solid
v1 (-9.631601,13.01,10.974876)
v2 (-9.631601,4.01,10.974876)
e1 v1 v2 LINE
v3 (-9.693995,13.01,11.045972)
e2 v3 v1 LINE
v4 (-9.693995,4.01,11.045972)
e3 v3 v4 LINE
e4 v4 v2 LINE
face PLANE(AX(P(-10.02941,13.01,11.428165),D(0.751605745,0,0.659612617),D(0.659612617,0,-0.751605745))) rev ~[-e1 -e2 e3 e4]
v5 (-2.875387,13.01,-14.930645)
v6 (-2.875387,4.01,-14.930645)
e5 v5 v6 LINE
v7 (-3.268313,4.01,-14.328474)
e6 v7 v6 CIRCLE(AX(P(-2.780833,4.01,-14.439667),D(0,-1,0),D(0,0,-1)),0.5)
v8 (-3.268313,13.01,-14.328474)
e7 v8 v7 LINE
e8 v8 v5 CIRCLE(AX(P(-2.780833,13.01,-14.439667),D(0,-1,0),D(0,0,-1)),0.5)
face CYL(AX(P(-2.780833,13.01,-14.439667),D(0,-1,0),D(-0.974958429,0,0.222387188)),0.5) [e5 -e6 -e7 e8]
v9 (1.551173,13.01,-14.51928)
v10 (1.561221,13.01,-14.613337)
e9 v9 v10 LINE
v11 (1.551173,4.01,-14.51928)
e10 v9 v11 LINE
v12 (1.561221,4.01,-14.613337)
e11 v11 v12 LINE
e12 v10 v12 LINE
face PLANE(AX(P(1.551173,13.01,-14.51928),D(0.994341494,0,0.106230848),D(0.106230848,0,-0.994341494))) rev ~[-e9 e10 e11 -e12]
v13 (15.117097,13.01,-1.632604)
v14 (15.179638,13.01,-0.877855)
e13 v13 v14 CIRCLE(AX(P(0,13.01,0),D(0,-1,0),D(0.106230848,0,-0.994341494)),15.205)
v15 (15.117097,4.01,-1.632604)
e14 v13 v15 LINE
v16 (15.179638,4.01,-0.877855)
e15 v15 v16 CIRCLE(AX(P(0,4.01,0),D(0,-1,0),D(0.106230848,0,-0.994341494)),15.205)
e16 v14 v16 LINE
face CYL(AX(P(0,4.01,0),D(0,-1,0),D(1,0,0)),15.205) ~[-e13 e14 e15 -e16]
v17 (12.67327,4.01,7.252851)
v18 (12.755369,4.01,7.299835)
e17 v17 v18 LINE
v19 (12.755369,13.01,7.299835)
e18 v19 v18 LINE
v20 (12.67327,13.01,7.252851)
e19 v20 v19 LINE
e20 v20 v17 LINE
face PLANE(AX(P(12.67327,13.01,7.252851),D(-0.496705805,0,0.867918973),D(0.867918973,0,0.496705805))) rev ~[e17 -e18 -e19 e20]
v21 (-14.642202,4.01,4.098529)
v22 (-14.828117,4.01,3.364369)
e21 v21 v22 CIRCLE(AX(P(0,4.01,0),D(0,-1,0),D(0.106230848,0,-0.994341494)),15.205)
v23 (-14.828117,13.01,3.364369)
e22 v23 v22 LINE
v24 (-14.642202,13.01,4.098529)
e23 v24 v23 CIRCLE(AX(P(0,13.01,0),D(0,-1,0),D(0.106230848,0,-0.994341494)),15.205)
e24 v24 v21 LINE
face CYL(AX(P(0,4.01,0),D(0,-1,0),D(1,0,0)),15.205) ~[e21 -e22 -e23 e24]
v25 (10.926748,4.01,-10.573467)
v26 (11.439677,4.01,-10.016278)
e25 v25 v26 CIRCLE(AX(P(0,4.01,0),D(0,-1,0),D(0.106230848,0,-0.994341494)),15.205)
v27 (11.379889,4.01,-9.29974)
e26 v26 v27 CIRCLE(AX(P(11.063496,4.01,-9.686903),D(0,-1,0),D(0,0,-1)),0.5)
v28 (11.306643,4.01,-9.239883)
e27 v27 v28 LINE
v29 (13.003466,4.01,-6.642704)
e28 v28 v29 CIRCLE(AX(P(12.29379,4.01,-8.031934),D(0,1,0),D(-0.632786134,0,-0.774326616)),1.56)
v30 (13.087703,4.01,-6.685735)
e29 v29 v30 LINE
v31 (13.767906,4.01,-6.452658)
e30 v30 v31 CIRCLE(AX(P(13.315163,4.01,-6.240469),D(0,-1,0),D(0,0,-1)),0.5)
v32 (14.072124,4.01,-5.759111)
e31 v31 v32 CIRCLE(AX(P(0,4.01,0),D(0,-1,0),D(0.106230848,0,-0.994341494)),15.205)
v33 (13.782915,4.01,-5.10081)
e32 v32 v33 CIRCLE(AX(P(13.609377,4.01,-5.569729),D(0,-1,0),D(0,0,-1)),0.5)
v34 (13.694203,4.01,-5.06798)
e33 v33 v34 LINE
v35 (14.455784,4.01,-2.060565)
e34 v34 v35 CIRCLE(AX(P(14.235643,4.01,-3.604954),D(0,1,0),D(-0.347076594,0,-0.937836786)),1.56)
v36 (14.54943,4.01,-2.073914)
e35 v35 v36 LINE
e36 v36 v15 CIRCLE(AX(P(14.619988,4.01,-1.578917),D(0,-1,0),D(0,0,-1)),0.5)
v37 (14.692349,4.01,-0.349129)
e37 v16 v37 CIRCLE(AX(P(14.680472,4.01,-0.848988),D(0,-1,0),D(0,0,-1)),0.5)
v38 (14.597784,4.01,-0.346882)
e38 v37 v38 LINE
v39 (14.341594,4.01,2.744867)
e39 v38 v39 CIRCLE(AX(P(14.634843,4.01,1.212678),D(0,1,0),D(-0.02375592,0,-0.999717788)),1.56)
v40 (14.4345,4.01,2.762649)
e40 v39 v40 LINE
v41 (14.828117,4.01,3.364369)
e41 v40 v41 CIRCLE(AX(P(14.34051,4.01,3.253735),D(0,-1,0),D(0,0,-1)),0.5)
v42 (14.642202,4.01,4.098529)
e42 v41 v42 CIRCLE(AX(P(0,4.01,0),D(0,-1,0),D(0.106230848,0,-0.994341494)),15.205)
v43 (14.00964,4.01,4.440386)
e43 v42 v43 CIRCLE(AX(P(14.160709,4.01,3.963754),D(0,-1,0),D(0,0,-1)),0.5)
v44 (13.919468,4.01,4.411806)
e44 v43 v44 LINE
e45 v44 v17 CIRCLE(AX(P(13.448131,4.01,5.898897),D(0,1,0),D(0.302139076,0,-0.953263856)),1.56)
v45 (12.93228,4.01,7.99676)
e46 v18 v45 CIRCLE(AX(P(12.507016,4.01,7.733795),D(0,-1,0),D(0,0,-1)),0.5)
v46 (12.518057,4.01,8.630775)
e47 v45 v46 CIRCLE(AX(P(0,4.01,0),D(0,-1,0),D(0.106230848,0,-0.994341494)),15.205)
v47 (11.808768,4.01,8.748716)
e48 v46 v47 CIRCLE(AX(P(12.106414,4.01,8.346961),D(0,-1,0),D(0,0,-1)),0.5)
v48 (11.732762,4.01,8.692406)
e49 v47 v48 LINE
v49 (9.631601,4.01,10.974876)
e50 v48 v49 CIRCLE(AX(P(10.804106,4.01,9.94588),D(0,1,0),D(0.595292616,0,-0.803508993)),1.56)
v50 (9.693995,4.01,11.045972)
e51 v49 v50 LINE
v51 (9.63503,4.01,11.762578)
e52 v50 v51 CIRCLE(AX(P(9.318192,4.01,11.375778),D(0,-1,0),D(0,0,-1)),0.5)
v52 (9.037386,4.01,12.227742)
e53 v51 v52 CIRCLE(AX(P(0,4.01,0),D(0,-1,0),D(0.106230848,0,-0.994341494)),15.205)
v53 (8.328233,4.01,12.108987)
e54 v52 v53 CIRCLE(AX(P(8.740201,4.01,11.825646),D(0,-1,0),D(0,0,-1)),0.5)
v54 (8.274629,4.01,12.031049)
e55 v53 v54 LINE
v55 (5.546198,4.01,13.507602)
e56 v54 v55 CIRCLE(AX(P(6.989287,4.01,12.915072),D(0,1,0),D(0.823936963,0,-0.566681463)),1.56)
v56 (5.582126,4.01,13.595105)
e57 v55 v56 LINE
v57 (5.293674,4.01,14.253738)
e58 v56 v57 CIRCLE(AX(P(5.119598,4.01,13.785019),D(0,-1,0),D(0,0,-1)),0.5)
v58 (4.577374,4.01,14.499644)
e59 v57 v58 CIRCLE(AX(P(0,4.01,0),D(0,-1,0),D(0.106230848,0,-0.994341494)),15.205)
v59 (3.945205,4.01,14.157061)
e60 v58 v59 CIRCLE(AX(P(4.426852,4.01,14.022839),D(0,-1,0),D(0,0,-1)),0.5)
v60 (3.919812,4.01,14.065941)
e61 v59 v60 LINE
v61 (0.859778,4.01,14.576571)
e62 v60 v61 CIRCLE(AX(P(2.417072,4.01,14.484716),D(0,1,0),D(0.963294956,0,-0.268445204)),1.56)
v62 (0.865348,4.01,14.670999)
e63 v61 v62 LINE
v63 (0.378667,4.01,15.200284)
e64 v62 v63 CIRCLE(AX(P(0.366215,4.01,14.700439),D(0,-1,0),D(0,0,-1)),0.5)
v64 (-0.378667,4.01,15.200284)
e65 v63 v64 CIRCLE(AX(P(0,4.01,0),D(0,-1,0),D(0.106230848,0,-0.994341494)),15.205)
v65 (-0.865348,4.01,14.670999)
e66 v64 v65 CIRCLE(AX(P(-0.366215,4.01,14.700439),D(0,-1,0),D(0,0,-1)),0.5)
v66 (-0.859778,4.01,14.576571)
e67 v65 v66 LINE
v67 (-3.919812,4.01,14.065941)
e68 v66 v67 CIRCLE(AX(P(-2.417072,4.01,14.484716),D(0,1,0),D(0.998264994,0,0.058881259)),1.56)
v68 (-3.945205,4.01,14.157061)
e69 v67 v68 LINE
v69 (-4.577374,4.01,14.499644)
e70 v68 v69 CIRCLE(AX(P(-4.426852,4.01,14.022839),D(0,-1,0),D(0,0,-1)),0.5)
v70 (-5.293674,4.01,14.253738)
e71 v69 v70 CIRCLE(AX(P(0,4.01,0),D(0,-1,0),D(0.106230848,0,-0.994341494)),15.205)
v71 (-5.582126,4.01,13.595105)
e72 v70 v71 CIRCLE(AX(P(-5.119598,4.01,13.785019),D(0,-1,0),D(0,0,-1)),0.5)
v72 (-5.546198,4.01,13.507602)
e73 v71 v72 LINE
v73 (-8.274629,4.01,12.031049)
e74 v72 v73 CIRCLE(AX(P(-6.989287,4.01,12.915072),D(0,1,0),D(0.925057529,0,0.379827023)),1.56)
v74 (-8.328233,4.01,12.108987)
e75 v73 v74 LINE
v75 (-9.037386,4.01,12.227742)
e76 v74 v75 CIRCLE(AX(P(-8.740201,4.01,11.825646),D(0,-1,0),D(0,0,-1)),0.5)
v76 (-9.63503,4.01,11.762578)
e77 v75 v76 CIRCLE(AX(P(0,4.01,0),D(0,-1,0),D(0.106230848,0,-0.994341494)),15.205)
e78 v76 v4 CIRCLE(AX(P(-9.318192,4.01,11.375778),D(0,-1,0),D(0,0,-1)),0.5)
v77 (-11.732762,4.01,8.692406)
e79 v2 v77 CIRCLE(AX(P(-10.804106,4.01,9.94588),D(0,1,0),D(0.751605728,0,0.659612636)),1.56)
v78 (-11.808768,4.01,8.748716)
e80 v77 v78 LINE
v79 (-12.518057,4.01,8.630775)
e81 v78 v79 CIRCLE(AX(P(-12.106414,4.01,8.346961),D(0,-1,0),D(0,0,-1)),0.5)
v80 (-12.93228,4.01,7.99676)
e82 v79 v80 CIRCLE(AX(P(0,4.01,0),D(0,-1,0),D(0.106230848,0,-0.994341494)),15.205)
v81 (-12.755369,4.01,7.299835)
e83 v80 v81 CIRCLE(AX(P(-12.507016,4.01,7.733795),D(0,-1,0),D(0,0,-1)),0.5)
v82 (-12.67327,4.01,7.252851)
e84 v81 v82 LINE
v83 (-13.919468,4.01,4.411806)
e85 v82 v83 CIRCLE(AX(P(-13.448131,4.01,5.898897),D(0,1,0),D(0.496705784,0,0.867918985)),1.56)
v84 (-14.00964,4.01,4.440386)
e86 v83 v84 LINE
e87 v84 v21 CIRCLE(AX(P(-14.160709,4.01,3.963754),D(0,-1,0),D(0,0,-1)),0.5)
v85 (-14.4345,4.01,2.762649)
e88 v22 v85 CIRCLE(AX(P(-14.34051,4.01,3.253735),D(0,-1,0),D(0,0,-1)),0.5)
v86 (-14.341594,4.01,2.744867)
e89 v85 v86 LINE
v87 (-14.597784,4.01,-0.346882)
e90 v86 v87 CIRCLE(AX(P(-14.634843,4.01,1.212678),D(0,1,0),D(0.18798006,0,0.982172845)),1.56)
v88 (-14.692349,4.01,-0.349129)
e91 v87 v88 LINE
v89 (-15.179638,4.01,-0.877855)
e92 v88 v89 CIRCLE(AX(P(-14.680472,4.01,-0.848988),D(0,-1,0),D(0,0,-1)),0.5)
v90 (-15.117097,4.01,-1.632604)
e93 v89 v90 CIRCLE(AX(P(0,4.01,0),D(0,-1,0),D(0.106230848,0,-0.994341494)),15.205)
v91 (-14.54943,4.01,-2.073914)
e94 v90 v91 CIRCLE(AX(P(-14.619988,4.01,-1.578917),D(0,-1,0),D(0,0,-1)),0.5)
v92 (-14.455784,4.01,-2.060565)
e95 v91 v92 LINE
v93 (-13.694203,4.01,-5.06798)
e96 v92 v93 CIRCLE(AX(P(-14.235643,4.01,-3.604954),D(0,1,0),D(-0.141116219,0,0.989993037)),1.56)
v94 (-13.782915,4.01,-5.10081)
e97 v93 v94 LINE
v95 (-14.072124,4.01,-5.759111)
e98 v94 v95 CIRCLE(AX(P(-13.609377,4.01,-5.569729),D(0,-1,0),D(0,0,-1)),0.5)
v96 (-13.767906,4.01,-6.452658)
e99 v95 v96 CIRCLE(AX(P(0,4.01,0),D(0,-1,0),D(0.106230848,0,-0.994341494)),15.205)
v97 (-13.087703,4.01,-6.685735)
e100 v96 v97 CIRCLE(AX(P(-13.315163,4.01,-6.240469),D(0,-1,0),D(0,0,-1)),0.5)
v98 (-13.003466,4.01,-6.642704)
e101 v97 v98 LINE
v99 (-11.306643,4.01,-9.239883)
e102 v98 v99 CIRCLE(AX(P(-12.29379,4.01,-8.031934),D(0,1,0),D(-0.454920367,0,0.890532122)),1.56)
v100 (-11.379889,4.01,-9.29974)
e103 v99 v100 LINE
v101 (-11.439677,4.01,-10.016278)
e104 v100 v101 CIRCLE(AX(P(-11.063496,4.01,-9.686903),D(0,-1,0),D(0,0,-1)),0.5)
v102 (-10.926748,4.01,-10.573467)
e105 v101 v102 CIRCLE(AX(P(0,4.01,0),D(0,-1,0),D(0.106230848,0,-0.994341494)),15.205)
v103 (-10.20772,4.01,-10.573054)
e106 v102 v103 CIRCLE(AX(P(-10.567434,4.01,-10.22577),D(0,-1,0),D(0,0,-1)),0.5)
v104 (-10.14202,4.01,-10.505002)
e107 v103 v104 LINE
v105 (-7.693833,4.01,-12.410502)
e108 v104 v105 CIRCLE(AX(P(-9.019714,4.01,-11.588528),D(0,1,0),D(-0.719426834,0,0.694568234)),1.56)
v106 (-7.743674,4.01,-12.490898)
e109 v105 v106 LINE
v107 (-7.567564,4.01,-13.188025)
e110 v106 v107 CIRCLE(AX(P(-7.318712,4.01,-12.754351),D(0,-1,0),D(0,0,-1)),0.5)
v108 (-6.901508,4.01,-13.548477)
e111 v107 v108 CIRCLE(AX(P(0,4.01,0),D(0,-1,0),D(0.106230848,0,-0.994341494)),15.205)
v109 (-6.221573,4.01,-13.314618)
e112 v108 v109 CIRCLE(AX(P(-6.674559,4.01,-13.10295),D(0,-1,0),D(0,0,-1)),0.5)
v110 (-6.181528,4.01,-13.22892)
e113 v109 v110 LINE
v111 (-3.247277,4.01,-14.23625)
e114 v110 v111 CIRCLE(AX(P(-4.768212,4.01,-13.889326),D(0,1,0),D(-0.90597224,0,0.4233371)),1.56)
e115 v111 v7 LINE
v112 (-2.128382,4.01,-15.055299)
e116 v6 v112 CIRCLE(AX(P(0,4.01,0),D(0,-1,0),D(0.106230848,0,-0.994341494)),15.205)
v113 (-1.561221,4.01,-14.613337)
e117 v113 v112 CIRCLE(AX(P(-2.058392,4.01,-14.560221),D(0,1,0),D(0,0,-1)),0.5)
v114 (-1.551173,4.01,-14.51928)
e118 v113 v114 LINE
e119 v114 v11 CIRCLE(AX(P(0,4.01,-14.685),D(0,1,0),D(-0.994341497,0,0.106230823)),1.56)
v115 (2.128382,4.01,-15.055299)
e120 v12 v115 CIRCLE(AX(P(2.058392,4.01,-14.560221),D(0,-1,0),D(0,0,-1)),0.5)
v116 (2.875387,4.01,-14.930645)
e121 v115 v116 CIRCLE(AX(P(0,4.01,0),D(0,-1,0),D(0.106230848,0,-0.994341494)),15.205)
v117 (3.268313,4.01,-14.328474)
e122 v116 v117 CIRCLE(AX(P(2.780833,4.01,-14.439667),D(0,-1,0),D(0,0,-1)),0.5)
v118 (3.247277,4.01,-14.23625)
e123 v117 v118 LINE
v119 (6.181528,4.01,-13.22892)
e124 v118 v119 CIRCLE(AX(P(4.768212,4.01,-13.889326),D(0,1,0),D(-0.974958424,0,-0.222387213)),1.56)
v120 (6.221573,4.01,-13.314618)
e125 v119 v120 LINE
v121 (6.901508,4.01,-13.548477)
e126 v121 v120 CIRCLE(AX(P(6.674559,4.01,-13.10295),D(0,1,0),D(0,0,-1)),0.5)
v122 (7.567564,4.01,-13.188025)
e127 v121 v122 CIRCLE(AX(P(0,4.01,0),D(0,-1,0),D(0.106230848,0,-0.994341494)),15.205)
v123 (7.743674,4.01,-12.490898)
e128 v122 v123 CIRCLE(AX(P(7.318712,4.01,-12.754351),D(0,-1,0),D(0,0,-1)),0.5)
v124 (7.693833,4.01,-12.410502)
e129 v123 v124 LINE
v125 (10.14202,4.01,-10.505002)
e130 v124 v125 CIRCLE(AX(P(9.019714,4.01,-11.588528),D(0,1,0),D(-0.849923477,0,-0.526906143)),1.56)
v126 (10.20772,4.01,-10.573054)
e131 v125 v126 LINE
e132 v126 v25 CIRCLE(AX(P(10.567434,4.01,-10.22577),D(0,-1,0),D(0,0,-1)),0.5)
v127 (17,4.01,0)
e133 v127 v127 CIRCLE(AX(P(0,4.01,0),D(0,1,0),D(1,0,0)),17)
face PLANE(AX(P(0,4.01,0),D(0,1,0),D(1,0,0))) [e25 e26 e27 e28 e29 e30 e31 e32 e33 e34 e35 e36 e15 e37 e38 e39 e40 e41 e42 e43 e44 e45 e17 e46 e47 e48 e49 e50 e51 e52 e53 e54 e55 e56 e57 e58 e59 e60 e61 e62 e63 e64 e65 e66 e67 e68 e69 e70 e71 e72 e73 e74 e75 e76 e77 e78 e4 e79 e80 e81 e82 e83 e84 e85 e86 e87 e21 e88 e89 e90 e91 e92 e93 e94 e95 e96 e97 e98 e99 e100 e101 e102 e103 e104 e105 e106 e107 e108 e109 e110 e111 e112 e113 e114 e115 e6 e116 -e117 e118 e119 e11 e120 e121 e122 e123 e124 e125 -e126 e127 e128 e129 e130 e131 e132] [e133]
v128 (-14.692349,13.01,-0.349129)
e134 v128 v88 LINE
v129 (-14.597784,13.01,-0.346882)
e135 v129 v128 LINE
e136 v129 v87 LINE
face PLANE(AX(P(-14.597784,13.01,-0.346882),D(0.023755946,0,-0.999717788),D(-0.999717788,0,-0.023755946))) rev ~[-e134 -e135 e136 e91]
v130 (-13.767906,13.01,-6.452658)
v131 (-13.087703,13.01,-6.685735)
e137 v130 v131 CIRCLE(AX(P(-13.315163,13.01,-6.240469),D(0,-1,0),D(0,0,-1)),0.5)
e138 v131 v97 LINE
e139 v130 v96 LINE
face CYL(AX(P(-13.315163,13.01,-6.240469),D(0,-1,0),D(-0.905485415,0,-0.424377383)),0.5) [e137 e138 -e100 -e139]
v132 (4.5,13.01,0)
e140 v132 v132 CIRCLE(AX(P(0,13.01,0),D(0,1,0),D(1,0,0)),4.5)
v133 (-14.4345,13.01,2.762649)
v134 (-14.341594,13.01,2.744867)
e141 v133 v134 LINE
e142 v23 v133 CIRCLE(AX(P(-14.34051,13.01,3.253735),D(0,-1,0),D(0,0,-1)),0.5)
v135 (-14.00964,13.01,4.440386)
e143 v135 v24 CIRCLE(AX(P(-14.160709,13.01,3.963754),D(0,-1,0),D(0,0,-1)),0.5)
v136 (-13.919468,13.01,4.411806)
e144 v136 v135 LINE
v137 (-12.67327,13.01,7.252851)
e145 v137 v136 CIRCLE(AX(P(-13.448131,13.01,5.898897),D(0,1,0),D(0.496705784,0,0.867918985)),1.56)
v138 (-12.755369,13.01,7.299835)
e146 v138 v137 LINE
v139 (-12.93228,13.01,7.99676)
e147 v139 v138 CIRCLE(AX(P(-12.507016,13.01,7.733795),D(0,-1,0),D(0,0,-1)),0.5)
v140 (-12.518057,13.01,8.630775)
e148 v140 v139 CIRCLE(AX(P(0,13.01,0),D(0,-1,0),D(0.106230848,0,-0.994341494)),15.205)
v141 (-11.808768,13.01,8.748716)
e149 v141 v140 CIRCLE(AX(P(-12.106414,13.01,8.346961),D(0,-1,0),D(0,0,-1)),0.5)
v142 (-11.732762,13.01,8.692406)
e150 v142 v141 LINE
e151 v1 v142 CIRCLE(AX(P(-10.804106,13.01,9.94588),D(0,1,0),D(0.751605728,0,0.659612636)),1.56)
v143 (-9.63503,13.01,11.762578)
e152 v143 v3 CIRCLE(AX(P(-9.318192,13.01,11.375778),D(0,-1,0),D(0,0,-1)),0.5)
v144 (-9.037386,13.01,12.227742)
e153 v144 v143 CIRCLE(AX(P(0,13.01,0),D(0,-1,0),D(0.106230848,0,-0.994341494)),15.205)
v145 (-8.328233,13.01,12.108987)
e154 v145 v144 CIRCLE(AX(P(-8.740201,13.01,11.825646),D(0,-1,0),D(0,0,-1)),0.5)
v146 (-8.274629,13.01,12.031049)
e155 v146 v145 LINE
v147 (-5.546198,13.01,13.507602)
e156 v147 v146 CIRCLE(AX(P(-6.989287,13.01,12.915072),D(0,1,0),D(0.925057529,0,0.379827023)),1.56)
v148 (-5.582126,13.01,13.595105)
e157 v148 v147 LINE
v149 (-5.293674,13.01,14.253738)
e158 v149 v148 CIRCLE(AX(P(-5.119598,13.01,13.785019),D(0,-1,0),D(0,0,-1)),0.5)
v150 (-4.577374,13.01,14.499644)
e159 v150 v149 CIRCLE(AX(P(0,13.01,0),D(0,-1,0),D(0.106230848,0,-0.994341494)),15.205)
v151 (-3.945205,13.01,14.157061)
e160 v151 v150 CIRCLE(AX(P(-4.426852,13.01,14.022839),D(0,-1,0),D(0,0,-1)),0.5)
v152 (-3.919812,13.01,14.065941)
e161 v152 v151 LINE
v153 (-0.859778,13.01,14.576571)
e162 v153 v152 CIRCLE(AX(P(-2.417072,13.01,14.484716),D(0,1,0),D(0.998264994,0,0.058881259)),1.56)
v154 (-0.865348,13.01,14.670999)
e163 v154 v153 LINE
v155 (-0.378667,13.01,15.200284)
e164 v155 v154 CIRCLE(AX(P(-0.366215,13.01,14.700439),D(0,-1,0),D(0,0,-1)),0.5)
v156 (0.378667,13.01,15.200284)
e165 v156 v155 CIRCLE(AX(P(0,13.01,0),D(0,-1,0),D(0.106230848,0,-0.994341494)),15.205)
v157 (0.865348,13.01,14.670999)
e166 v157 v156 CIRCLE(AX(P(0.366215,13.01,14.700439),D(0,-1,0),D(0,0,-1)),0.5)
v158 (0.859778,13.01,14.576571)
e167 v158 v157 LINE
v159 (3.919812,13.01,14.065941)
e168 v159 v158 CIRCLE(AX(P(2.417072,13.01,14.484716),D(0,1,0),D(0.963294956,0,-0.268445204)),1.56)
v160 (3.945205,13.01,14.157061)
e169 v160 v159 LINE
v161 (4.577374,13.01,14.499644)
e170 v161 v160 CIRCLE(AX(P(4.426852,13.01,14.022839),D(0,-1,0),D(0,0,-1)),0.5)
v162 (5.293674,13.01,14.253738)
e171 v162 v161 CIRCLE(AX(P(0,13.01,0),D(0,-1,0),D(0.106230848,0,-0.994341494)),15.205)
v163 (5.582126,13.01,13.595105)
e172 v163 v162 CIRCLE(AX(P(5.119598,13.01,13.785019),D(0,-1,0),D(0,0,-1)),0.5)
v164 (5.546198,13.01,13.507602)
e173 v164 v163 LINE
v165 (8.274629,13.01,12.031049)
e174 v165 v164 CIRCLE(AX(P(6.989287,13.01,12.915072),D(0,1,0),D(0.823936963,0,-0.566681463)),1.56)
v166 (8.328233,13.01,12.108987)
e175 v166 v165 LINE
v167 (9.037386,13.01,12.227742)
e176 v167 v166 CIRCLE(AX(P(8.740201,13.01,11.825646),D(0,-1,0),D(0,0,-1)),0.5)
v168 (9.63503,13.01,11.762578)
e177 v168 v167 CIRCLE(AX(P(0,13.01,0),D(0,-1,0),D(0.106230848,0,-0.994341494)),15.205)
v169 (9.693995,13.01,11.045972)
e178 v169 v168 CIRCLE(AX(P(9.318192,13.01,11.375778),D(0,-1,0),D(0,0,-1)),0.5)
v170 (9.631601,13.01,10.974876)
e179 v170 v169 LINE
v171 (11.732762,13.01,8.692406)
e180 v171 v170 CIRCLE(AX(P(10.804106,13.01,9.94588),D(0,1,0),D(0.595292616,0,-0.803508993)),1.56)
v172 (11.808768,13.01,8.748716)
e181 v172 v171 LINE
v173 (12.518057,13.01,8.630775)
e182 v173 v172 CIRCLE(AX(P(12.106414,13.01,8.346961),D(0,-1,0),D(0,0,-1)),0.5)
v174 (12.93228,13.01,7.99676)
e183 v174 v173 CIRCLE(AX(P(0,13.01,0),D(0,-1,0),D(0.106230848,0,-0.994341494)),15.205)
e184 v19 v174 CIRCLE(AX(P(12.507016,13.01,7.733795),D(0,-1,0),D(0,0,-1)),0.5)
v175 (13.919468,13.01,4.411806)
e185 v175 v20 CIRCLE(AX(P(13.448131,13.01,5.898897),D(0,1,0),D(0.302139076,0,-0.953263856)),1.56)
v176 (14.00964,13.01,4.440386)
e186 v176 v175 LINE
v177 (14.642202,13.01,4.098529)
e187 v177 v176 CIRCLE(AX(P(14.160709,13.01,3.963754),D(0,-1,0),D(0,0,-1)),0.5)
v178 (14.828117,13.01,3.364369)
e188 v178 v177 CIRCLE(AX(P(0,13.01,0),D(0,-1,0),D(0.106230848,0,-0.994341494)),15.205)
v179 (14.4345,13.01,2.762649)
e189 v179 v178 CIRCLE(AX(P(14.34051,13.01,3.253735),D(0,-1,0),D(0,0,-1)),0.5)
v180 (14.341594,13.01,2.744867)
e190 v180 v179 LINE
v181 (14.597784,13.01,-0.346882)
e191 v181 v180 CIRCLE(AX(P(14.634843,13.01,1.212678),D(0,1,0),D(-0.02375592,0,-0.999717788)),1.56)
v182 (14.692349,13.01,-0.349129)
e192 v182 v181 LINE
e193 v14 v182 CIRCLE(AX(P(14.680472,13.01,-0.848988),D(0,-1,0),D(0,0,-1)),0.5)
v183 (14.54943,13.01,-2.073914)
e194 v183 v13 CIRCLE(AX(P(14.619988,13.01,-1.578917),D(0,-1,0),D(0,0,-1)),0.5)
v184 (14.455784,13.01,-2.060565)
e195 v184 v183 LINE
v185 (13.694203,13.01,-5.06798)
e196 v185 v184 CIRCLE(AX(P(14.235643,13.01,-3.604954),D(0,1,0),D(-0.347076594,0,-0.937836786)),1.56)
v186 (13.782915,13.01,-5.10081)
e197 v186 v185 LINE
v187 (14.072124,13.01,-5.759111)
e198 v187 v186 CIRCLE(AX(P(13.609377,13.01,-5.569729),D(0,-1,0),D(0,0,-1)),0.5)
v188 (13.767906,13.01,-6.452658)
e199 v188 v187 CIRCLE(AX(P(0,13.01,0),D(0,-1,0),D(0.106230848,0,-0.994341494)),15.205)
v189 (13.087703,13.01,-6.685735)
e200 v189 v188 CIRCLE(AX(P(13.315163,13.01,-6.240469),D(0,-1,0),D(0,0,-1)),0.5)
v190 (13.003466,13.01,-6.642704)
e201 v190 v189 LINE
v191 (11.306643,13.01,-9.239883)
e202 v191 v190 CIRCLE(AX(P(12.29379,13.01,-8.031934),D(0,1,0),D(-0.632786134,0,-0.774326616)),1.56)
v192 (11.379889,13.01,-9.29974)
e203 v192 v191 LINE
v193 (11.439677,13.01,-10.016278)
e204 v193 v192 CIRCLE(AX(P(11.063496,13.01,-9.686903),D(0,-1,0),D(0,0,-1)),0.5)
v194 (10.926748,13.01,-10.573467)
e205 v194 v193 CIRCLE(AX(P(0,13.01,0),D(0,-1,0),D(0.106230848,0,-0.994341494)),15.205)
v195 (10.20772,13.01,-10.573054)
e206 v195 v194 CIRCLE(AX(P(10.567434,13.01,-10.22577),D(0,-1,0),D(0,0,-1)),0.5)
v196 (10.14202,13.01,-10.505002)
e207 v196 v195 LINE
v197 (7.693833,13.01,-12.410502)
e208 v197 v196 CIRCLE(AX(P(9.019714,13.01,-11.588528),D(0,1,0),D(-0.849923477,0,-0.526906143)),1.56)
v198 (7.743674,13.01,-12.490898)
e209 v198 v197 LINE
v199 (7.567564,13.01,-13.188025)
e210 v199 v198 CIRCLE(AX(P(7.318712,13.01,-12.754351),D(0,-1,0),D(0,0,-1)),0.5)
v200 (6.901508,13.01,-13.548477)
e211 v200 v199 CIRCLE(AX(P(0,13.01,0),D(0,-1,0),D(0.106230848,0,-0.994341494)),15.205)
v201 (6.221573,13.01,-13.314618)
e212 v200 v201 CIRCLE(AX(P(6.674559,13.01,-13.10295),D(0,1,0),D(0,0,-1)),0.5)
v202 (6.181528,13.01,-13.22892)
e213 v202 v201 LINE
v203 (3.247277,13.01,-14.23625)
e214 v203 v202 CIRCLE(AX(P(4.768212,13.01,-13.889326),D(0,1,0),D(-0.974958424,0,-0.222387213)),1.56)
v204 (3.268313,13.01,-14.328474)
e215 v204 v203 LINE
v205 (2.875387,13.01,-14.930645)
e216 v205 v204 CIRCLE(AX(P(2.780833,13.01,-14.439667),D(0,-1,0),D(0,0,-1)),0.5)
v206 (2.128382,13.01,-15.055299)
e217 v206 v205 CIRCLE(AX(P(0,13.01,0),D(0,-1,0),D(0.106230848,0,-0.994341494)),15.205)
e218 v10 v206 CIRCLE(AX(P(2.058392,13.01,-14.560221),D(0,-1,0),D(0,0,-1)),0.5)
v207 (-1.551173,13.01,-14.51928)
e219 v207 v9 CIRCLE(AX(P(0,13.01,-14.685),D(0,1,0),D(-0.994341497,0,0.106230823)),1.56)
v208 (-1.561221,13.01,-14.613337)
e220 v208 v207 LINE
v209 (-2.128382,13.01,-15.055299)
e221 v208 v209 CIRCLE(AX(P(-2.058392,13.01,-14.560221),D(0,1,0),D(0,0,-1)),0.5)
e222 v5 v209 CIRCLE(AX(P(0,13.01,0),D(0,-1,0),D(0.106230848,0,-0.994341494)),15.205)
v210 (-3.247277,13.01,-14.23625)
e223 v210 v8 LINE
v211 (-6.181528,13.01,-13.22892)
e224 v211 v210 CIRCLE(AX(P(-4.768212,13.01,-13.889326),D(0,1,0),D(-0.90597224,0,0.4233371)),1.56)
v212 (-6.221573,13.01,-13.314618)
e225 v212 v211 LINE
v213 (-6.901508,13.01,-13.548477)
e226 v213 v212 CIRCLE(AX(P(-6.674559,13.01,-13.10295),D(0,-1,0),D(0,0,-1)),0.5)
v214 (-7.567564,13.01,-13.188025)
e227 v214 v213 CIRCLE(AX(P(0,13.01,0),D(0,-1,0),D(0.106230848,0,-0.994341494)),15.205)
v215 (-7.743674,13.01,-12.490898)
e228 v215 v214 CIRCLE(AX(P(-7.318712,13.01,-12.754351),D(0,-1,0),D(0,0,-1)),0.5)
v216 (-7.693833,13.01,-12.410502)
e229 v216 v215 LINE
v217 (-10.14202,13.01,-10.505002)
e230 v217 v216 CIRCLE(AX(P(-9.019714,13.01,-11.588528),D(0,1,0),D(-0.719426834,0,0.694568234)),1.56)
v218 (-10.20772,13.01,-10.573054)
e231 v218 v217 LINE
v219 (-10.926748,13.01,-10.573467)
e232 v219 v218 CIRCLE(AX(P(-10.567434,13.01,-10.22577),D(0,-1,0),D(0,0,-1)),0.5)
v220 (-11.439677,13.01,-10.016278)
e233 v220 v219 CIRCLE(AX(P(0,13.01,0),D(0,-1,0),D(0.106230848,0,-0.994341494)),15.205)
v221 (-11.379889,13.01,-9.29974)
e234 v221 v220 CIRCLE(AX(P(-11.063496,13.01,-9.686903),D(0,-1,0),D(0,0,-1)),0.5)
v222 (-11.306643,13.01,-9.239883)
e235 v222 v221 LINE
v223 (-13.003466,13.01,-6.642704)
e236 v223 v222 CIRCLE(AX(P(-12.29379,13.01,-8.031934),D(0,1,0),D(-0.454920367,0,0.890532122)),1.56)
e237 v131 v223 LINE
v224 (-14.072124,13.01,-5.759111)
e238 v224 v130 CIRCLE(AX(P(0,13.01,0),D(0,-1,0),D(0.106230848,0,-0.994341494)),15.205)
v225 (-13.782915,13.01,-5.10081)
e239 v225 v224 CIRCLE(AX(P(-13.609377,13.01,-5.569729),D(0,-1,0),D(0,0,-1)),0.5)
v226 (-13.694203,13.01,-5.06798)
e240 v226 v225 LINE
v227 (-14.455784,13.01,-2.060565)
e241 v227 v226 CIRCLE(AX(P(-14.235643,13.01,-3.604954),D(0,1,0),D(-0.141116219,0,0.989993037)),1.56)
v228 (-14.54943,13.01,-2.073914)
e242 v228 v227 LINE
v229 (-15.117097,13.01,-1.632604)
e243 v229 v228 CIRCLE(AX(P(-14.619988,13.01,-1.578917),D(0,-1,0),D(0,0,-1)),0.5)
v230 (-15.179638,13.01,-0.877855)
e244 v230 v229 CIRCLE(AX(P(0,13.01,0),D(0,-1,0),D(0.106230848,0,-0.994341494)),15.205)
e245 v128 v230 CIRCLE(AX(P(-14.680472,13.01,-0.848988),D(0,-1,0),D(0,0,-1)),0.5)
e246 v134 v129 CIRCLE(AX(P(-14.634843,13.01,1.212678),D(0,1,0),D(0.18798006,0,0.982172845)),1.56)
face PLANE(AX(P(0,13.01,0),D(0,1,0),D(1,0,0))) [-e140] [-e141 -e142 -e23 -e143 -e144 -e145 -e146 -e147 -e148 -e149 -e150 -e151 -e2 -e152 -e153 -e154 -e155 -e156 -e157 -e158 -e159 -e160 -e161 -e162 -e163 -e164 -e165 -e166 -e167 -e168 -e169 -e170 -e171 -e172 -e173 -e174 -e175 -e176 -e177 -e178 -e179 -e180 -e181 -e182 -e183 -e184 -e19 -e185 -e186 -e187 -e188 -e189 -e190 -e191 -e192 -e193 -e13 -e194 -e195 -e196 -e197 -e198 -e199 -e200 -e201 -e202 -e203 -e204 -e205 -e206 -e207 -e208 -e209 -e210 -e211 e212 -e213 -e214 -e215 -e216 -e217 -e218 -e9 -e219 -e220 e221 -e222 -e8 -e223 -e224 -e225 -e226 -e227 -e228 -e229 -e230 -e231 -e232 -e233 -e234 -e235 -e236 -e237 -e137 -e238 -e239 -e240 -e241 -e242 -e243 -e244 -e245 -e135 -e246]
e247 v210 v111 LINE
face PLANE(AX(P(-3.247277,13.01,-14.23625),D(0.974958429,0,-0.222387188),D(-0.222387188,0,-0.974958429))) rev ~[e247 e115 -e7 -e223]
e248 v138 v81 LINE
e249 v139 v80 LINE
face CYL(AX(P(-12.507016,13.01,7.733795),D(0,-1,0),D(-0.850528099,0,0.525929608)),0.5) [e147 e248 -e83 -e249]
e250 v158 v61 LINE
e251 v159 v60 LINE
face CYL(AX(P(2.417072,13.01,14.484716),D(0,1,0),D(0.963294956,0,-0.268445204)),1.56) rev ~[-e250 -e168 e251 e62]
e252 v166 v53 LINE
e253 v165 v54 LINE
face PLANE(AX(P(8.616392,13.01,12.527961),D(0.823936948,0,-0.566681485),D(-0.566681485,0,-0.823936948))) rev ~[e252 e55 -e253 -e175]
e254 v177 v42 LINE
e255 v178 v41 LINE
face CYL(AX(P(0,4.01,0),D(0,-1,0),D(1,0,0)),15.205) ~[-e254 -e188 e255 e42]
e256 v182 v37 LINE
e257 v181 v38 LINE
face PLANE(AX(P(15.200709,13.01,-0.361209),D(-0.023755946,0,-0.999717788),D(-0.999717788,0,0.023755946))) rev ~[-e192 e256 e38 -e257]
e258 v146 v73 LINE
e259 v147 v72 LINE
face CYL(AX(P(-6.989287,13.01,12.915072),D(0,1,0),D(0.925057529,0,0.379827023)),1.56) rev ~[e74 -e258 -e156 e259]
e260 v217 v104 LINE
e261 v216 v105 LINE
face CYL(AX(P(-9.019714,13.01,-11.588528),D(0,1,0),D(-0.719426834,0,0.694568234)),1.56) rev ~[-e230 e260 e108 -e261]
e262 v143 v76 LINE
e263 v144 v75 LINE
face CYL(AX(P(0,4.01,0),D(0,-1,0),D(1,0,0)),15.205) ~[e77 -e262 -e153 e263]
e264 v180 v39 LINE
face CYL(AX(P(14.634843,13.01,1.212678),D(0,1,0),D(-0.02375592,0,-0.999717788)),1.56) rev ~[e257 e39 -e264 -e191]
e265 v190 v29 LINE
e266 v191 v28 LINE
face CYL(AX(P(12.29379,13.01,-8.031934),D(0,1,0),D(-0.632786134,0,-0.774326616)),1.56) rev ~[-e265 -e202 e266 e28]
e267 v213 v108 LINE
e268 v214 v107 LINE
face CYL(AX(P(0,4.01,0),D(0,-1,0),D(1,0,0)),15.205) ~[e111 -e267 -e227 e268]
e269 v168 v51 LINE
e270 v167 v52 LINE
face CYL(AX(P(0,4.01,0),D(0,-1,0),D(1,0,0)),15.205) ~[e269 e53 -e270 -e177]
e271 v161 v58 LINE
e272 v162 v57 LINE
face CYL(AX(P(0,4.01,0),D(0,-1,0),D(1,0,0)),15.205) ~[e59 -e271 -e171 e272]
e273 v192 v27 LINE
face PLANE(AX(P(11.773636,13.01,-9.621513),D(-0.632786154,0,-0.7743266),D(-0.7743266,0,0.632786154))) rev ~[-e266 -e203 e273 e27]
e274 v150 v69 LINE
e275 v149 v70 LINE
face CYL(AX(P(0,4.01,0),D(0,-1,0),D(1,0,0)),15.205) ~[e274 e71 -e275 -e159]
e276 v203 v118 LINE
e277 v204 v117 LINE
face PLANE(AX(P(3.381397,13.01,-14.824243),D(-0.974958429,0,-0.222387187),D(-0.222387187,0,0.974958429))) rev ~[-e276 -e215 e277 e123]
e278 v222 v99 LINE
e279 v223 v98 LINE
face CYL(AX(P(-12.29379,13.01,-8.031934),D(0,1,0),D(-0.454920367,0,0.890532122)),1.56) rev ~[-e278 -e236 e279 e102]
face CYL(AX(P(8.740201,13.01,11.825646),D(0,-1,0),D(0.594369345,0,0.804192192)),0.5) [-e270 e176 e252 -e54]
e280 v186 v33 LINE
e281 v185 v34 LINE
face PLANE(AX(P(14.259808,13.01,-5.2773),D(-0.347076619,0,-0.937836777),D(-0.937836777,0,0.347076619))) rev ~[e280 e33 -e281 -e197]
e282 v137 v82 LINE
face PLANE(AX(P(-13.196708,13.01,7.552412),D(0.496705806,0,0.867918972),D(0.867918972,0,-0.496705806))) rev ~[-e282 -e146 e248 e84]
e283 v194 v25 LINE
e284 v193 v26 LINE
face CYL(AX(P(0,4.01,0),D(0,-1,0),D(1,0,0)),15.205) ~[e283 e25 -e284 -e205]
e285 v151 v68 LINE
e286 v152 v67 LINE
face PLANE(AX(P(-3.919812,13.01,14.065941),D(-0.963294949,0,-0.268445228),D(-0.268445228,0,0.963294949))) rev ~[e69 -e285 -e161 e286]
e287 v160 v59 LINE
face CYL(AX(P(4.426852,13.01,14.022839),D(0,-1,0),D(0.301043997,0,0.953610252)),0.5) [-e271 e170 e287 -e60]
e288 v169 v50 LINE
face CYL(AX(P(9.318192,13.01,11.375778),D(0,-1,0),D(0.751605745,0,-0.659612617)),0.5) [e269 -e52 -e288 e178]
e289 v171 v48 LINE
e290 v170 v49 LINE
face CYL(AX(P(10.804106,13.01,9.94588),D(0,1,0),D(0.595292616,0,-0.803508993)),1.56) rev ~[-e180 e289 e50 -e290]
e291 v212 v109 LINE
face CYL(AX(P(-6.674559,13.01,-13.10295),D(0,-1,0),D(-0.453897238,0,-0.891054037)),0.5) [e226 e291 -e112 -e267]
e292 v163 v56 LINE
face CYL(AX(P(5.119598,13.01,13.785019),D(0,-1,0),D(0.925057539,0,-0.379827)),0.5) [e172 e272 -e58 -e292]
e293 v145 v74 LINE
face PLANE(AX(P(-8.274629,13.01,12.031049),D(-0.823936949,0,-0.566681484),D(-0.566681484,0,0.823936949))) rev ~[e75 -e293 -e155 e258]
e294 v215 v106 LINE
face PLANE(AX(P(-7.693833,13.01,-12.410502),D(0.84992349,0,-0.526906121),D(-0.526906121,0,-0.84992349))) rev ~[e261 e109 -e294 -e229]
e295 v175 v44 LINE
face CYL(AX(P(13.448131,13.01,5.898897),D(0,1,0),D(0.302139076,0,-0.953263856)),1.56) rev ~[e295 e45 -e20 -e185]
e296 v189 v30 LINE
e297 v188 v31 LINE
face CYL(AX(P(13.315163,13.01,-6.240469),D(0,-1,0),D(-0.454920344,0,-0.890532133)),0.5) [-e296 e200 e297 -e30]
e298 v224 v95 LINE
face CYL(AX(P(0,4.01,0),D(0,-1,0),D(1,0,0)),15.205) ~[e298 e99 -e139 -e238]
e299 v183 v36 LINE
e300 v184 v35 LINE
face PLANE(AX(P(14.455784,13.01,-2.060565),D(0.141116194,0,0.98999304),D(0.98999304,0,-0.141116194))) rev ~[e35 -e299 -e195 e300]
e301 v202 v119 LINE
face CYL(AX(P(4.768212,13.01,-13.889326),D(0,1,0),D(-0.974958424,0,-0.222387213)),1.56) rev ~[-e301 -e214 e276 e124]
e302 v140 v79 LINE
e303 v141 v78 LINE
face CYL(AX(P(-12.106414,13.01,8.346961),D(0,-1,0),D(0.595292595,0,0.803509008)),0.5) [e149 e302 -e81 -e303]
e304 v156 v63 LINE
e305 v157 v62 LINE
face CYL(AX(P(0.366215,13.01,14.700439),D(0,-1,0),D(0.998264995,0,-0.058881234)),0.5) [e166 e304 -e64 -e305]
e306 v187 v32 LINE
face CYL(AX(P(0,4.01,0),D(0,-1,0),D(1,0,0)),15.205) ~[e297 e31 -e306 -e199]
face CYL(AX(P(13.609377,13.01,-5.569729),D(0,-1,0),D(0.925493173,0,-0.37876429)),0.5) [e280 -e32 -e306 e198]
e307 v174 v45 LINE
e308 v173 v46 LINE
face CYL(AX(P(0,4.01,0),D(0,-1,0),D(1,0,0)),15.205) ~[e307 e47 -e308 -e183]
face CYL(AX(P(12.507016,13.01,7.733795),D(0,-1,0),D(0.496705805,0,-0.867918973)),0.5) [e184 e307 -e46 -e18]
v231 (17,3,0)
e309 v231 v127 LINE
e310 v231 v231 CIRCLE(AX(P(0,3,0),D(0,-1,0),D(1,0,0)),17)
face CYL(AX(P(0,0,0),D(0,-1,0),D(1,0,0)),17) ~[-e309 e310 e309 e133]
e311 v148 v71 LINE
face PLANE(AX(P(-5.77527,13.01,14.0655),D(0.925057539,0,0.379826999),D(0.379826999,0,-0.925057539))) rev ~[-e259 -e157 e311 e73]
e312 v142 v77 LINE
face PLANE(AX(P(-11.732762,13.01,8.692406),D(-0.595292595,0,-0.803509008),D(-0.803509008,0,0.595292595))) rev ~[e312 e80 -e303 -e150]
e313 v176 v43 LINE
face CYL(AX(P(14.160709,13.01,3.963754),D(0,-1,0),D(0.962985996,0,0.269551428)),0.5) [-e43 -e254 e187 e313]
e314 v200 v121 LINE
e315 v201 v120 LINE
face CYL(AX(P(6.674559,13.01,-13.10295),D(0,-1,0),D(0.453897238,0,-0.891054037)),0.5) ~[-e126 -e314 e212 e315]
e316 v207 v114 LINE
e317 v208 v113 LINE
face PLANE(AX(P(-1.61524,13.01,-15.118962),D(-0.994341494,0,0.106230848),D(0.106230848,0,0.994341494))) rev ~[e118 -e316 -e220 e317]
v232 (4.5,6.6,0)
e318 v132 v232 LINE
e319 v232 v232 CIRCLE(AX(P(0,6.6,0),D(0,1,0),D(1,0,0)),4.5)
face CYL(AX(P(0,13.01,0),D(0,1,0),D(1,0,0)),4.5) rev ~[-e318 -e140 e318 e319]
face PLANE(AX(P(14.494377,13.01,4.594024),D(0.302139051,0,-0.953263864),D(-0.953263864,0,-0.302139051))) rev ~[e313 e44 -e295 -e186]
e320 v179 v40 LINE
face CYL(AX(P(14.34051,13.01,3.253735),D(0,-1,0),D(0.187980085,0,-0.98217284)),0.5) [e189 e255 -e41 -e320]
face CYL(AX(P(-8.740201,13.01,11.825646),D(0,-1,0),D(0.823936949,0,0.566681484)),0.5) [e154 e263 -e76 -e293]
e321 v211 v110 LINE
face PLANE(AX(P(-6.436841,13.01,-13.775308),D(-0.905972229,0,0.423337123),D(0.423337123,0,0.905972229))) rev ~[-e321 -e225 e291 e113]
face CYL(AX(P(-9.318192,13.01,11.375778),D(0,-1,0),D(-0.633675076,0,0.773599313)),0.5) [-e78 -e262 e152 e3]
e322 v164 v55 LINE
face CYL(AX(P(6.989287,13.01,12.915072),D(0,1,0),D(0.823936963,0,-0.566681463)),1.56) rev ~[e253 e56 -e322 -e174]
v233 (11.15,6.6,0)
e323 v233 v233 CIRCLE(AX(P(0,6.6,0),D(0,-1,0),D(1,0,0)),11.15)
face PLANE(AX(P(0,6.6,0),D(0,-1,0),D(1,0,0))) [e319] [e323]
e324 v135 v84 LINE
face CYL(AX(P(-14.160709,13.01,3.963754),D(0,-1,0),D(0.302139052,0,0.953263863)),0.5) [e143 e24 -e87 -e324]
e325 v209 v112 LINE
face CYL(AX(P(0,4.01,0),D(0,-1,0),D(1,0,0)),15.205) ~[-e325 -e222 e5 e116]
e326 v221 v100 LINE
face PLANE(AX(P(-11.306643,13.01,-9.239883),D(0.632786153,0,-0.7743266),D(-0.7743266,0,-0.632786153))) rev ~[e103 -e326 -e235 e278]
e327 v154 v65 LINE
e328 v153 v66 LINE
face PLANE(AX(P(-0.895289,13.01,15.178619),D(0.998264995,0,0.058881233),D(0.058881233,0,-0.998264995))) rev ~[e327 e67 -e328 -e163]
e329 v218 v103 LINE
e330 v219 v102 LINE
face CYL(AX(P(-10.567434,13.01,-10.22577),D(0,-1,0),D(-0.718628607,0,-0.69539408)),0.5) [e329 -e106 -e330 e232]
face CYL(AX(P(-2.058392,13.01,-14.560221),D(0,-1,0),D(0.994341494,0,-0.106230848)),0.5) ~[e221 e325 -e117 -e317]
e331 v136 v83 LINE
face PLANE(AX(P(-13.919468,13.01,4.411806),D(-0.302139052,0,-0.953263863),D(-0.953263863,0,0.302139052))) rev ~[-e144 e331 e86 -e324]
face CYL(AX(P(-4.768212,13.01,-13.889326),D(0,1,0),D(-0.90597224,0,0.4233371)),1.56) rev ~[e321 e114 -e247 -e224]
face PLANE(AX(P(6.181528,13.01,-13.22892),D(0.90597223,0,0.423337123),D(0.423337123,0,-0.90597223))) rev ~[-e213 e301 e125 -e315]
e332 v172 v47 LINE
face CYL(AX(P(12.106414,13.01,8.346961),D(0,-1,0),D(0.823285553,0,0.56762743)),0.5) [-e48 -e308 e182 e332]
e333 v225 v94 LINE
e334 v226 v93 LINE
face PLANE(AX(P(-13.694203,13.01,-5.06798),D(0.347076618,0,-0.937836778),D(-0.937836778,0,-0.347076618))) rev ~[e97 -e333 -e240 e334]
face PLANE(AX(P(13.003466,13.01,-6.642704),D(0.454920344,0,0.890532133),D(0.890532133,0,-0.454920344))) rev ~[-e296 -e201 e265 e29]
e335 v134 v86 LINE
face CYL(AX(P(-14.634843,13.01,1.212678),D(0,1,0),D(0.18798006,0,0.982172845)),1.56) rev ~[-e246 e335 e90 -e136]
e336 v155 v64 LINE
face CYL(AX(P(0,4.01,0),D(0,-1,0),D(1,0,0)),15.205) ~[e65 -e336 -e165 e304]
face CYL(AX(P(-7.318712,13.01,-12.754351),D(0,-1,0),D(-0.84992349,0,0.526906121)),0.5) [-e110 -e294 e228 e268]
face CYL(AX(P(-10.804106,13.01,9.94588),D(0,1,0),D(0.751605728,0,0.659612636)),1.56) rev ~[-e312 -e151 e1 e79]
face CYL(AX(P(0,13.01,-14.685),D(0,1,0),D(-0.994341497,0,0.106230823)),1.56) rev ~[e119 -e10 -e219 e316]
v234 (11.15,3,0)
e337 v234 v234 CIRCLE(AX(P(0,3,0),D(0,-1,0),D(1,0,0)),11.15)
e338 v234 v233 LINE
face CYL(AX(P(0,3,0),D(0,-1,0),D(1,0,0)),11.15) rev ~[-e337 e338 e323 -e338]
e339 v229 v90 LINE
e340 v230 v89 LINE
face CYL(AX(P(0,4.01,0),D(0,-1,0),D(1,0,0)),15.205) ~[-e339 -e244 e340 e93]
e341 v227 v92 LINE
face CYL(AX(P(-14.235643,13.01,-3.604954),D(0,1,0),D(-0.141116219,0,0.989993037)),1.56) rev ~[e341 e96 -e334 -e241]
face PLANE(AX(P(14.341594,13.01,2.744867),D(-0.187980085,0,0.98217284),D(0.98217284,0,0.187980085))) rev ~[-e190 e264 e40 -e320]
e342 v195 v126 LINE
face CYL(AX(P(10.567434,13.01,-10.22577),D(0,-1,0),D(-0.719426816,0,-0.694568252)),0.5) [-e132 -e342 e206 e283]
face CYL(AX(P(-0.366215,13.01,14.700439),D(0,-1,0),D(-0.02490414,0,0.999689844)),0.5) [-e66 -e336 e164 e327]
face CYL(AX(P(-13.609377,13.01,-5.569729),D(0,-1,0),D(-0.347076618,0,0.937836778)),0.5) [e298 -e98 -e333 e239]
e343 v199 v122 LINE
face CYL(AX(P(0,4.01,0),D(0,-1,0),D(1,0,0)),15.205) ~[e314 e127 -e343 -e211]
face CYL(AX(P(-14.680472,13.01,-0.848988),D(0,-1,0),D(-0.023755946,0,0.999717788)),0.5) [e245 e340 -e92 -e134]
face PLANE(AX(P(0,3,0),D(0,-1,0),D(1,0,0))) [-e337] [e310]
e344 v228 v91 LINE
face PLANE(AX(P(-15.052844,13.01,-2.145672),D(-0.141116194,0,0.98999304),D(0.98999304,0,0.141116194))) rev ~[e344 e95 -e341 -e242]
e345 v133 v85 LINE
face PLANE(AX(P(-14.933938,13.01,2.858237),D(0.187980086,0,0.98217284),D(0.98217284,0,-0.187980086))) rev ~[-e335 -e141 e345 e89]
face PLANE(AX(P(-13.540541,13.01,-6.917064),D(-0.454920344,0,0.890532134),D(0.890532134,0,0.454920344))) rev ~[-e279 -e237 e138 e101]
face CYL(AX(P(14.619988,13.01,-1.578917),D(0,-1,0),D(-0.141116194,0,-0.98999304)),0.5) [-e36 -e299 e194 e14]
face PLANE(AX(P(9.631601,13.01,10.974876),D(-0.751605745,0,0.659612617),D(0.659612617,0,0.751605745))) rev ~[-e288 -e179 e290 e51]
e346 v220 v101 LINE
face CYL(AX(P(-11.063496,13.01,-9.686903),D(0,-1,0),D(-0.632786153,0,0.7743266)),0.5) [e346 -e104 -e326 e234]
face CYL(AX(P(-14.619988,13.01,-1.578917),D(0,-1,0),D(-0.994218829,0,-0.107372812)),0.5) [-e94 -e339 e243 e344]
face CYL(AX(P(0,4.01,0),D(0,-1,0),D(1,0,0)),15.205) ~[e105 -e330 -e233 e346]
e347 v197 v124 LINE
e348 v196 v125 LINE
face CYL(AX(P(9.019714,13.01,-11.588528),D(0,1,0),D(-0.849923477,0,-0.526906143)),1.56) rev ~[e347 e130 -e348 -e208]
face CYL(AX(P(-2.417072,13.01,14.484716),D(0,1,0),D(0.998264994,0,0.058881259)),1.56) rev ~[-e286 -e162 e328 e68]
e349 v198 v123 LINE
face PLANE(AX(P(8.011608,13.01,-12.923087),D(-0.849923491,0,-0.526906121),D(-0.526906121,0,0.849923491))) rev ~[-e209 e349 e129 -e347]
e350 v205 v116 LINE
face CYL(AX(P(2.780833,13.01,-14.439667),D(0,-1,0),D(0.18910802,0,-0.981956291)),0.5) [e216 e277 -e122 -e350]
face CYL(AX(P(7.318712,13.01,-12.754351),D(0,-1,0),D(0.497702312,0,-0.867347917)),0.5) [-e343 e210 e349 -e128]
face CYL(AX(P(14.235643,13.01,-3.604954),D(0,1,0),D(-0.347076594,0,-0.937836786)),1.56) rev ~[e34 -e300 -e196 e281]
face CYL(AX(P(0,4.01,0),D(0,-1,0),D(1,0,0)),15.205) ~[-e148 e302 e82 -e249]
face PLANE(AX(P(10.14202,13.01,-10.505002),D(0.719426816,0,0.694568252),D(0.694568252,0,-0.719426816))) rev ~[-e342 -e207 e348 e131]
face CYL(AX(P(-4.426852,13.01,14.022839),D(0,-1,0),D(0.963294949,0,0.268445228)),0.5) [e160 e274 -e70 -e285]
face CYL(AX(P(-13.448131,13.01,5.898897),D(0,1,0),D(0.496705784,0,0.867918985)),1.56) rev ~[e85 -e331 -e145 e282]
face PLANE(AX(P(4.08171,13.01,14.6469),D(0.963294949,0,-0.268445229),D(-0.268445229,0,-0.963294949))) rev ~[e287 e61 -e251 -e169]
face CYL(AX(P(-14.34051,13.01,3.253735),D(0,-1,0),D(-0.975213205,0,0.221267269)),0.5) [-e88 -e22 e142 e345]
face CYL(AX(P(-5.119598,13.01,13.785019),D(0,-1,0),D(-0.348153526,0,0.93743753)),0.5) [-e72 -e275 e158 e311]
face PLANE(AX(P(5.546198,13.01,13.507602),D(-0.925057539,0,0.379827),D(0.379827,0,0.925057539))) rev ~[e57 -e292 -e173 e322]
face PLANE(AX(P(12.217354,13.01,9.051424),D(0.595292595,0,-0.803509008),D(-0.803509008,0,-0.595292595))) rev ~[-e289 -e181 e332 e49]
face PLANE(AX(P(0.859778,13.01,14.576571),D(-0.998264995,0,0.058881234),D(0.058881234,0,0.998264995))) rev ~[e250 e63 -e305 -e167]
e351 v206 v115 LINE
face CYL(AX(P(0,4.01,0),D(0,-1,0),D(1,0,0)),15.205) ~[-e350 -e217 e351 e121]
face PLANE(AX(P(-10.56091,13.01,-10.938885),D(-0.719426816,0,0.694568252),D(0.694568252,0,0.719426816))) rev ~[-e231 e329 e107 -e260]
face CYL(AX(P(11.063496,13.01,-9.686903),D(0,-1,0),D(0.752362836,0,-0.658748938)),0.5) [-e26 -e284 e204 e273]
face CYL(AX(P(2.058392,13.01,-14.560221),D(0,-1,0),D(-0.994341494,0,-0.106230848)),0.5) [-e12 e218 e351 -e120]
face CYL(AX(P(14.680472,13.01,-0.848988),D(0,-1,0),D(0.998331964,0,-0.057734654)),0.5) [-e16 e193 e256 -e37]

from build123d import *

# Parameters (mm, degrees)
SKETCH_1_R                       = 17
EXTRUDE_1_DEPTH                  = 4.01
SKETCH_3_R                       = 15.205
EXTRUDE_2_DEPTH                  = 9
SKETCH_4_R                       = 4.5
CUT_EXTRUDE_2_DEPTH              = 28.336058604
CUT_EXTRUDE_START                = -9
CUT_EXTRUDE_4_DEPTH              = 9
FILLET_2_R                       = 0.5
PATTERN_CIRCULAR_7_COUNT         = 19
FILLET_2_OF_PATTERN_CIRCULAR_7_R = 0.5
SKETCH_6_R                       = 17
CUT_EXTRUDE_6_DEPTH              = 3
SKETCH_7_R                       = 11.15
CUT_EXTRUDE_7_DEPTH              = 3.6


with BuildPart() as part:
    # Эскиз1 → Бобышка-Вытянуть1 (new body)
    with BuildSketch(Plane(origin=(0, 0, 0), x_dir=(1, 0, 0), z_dir=(0, 1, 0))):
        Circle(SKETCH_1_R)
    extrude(amount=EXTRUDE_1_DEPTH)

    # Эскиз3 → Бобышка-Вытянуть2 (add)
    with BuildSketch(Plane(origin=(0, 4.01, 0), x_dir=(1, 0, 0), z_dir=(0, 1, 0))):
        Circle(SKETCH_3_R)
    extrude(amount=EXTRUDE_2_DEPTH)

    # Эскиз4 → Вырез-Вытянуть2 (cut, through all)
    with BuildSketch(Plane(origin=(0, 13.01, 0), x_dir=(1, 0, 0), z_dir=(0, 1, 0))):
        Circle(SKETCH_4_R)
    extrude(amount=-CUT_EXTRUDE_2_DEPTH, mode=Mode.SUBTRACT)

    # Эскиз5 → Вырез-Вытянуть4 (cut)
    with BuildSketch(Plane(origin=(0, 13.01, 0), x_dir=(1, 0, 0), z_dir=(0, 1, 0)).offset(CUT_EXTRUDE_START)):
        with BuildLine():
            Line((-1.615240041, 15.118962418), (-1.551172735, 14.519279917))
            ThreePointArc((-1.551172735, 14.519279917), (-2e-09, 13.125), (1.551172735, 14.519279913))
            Line((1.551172735, 14.519279913), (1.615240041, 15.118962418))
            ThreePointArc((1.615240041, 15.118962418), (0, 15.205), (-1.615240041, 15.118962418))
        make_face()
    cut_extrude_4 = extrude(amount=CUT_EXTRUDE_4_DEPTH, mode=Mode.SUBTRACT)

    # Скругление2
    fillet_2_edges = [part.edges().sort_by_distance(p)[0] for p in [
        (-1.615240041, 8.51, -15.118962418),
        (1.615240041, 8.51, -15.118962418),
    ]]
    fillet(fillet_2_edges, radius=FILLET_2_R)

    # Круговой массив7: Вырез-Вытянуть4 ×19 about axis
    pattern_circular_7_axis = Axis((0, 0, 0), (0, 1, 0))
    for i in range(1, PATTERN_CIRCULAR_7_COUNT):
        add(cut_extrude_4.rotate(pattern_circular_7_axis, i * 360 / PATTERN_CIRCULAR_7_COUNT), mode=Mode.SUBTRACT)

    # Скругление2 of Круговой массив7
    fillet_2_of_pattern_circular_7_edges = [part.edges().sort_by_distance(p)[0] for p in [
        (-6.436840952, 8.51, -13.775307748),
        (-3.381397192, 8.51, -14.824242916),
        (-10.560910269, 8.51, -10.938884737),
        (-8.011607571, 8.51, -12.923086672),
        (-13.540541088, 8.51, -6.917063831),
        (-11.773635958, 8.51, -9.621513464),
        (-15.052844177, 8.51, -2.145671729),
        (-14.259808201, 8.51, -5.27729998),
        (-14.933938031, 8.51, 2.858237198),
        (-15.200708962, 8.51, -0.361209156),
        (-13.196707975, 8.51, 7.552411775),
        (-14.494377044, 8.51, 4.594024283),
        (-10.029409842, 8.51, 11.428165348),
        (-12.217354469, 8.51, 9.051423909),
        (-5.775269531, 8.51, 14.065499879),
        (-8.616391966, 8.51, 12.527961306),
        (-0.895289153, 8.51, 15.17861925),
        (-4.081709697, 8.51, 14.646899704),
        (4.081709697, 8.51, 14.646899704),
        (0.895289153, 8.51, 15.17861925),
        (8.616391966, 8.51, 12.527961306),
        (5.775269531, 8.51, 14.065499879),
        (12.217354469, 8.51, 9.051423909),
        (10.029409842, 8.51, 11.428165348),
        (14.494377044, 8.51, 4.594024283),
        (13.196707975, 8.51, 7.552411775),
        (15.200708962, 8.51, -0.361209156),
        (14.933938031, 8.51, 2.858237198),
        (14.259808201, 8.51, -5.27729998),
        (15.052844177, 8.51, -2.145671729),
        (11.773635958, 8.51, -9.621513464),
        (13.540541088, 8.51, -6.917063831),
        (8.011607571, 8.51, -12.923086672),
        (10.560910269, 8.51, -10.938884737),
        (3.381397192, 8.51, -14.824242916),
        (6.436840952, 8.51, -13.775307748),
    ]]
    fillet(fillet_2_of_pattern_circular_7_edges, radius=FILLET_2_OF_PATTERN_CIRCULAR_7_R)

    # Эскиз6 → Вырез-Вытянуть6 (cut)
    with BuildSketch(Plane.XZ):
        Circle(SKETCH_6_R)
    extrude(amount=-CUT_EXTRUDE_6_DEPTH, mode=Mode.SUBTRACT)

    # Эскиз7 → Вырез-Вытянуть7 (cut)
    with BuildSketch(Plane.XZ.offset(-3)):
        Circle(SKETCH_7_R)
    extrude(amount=-CUT_EXTRUDE_7_DEPTH, mode=Mode.SUBTRACT)


solid = part.part
